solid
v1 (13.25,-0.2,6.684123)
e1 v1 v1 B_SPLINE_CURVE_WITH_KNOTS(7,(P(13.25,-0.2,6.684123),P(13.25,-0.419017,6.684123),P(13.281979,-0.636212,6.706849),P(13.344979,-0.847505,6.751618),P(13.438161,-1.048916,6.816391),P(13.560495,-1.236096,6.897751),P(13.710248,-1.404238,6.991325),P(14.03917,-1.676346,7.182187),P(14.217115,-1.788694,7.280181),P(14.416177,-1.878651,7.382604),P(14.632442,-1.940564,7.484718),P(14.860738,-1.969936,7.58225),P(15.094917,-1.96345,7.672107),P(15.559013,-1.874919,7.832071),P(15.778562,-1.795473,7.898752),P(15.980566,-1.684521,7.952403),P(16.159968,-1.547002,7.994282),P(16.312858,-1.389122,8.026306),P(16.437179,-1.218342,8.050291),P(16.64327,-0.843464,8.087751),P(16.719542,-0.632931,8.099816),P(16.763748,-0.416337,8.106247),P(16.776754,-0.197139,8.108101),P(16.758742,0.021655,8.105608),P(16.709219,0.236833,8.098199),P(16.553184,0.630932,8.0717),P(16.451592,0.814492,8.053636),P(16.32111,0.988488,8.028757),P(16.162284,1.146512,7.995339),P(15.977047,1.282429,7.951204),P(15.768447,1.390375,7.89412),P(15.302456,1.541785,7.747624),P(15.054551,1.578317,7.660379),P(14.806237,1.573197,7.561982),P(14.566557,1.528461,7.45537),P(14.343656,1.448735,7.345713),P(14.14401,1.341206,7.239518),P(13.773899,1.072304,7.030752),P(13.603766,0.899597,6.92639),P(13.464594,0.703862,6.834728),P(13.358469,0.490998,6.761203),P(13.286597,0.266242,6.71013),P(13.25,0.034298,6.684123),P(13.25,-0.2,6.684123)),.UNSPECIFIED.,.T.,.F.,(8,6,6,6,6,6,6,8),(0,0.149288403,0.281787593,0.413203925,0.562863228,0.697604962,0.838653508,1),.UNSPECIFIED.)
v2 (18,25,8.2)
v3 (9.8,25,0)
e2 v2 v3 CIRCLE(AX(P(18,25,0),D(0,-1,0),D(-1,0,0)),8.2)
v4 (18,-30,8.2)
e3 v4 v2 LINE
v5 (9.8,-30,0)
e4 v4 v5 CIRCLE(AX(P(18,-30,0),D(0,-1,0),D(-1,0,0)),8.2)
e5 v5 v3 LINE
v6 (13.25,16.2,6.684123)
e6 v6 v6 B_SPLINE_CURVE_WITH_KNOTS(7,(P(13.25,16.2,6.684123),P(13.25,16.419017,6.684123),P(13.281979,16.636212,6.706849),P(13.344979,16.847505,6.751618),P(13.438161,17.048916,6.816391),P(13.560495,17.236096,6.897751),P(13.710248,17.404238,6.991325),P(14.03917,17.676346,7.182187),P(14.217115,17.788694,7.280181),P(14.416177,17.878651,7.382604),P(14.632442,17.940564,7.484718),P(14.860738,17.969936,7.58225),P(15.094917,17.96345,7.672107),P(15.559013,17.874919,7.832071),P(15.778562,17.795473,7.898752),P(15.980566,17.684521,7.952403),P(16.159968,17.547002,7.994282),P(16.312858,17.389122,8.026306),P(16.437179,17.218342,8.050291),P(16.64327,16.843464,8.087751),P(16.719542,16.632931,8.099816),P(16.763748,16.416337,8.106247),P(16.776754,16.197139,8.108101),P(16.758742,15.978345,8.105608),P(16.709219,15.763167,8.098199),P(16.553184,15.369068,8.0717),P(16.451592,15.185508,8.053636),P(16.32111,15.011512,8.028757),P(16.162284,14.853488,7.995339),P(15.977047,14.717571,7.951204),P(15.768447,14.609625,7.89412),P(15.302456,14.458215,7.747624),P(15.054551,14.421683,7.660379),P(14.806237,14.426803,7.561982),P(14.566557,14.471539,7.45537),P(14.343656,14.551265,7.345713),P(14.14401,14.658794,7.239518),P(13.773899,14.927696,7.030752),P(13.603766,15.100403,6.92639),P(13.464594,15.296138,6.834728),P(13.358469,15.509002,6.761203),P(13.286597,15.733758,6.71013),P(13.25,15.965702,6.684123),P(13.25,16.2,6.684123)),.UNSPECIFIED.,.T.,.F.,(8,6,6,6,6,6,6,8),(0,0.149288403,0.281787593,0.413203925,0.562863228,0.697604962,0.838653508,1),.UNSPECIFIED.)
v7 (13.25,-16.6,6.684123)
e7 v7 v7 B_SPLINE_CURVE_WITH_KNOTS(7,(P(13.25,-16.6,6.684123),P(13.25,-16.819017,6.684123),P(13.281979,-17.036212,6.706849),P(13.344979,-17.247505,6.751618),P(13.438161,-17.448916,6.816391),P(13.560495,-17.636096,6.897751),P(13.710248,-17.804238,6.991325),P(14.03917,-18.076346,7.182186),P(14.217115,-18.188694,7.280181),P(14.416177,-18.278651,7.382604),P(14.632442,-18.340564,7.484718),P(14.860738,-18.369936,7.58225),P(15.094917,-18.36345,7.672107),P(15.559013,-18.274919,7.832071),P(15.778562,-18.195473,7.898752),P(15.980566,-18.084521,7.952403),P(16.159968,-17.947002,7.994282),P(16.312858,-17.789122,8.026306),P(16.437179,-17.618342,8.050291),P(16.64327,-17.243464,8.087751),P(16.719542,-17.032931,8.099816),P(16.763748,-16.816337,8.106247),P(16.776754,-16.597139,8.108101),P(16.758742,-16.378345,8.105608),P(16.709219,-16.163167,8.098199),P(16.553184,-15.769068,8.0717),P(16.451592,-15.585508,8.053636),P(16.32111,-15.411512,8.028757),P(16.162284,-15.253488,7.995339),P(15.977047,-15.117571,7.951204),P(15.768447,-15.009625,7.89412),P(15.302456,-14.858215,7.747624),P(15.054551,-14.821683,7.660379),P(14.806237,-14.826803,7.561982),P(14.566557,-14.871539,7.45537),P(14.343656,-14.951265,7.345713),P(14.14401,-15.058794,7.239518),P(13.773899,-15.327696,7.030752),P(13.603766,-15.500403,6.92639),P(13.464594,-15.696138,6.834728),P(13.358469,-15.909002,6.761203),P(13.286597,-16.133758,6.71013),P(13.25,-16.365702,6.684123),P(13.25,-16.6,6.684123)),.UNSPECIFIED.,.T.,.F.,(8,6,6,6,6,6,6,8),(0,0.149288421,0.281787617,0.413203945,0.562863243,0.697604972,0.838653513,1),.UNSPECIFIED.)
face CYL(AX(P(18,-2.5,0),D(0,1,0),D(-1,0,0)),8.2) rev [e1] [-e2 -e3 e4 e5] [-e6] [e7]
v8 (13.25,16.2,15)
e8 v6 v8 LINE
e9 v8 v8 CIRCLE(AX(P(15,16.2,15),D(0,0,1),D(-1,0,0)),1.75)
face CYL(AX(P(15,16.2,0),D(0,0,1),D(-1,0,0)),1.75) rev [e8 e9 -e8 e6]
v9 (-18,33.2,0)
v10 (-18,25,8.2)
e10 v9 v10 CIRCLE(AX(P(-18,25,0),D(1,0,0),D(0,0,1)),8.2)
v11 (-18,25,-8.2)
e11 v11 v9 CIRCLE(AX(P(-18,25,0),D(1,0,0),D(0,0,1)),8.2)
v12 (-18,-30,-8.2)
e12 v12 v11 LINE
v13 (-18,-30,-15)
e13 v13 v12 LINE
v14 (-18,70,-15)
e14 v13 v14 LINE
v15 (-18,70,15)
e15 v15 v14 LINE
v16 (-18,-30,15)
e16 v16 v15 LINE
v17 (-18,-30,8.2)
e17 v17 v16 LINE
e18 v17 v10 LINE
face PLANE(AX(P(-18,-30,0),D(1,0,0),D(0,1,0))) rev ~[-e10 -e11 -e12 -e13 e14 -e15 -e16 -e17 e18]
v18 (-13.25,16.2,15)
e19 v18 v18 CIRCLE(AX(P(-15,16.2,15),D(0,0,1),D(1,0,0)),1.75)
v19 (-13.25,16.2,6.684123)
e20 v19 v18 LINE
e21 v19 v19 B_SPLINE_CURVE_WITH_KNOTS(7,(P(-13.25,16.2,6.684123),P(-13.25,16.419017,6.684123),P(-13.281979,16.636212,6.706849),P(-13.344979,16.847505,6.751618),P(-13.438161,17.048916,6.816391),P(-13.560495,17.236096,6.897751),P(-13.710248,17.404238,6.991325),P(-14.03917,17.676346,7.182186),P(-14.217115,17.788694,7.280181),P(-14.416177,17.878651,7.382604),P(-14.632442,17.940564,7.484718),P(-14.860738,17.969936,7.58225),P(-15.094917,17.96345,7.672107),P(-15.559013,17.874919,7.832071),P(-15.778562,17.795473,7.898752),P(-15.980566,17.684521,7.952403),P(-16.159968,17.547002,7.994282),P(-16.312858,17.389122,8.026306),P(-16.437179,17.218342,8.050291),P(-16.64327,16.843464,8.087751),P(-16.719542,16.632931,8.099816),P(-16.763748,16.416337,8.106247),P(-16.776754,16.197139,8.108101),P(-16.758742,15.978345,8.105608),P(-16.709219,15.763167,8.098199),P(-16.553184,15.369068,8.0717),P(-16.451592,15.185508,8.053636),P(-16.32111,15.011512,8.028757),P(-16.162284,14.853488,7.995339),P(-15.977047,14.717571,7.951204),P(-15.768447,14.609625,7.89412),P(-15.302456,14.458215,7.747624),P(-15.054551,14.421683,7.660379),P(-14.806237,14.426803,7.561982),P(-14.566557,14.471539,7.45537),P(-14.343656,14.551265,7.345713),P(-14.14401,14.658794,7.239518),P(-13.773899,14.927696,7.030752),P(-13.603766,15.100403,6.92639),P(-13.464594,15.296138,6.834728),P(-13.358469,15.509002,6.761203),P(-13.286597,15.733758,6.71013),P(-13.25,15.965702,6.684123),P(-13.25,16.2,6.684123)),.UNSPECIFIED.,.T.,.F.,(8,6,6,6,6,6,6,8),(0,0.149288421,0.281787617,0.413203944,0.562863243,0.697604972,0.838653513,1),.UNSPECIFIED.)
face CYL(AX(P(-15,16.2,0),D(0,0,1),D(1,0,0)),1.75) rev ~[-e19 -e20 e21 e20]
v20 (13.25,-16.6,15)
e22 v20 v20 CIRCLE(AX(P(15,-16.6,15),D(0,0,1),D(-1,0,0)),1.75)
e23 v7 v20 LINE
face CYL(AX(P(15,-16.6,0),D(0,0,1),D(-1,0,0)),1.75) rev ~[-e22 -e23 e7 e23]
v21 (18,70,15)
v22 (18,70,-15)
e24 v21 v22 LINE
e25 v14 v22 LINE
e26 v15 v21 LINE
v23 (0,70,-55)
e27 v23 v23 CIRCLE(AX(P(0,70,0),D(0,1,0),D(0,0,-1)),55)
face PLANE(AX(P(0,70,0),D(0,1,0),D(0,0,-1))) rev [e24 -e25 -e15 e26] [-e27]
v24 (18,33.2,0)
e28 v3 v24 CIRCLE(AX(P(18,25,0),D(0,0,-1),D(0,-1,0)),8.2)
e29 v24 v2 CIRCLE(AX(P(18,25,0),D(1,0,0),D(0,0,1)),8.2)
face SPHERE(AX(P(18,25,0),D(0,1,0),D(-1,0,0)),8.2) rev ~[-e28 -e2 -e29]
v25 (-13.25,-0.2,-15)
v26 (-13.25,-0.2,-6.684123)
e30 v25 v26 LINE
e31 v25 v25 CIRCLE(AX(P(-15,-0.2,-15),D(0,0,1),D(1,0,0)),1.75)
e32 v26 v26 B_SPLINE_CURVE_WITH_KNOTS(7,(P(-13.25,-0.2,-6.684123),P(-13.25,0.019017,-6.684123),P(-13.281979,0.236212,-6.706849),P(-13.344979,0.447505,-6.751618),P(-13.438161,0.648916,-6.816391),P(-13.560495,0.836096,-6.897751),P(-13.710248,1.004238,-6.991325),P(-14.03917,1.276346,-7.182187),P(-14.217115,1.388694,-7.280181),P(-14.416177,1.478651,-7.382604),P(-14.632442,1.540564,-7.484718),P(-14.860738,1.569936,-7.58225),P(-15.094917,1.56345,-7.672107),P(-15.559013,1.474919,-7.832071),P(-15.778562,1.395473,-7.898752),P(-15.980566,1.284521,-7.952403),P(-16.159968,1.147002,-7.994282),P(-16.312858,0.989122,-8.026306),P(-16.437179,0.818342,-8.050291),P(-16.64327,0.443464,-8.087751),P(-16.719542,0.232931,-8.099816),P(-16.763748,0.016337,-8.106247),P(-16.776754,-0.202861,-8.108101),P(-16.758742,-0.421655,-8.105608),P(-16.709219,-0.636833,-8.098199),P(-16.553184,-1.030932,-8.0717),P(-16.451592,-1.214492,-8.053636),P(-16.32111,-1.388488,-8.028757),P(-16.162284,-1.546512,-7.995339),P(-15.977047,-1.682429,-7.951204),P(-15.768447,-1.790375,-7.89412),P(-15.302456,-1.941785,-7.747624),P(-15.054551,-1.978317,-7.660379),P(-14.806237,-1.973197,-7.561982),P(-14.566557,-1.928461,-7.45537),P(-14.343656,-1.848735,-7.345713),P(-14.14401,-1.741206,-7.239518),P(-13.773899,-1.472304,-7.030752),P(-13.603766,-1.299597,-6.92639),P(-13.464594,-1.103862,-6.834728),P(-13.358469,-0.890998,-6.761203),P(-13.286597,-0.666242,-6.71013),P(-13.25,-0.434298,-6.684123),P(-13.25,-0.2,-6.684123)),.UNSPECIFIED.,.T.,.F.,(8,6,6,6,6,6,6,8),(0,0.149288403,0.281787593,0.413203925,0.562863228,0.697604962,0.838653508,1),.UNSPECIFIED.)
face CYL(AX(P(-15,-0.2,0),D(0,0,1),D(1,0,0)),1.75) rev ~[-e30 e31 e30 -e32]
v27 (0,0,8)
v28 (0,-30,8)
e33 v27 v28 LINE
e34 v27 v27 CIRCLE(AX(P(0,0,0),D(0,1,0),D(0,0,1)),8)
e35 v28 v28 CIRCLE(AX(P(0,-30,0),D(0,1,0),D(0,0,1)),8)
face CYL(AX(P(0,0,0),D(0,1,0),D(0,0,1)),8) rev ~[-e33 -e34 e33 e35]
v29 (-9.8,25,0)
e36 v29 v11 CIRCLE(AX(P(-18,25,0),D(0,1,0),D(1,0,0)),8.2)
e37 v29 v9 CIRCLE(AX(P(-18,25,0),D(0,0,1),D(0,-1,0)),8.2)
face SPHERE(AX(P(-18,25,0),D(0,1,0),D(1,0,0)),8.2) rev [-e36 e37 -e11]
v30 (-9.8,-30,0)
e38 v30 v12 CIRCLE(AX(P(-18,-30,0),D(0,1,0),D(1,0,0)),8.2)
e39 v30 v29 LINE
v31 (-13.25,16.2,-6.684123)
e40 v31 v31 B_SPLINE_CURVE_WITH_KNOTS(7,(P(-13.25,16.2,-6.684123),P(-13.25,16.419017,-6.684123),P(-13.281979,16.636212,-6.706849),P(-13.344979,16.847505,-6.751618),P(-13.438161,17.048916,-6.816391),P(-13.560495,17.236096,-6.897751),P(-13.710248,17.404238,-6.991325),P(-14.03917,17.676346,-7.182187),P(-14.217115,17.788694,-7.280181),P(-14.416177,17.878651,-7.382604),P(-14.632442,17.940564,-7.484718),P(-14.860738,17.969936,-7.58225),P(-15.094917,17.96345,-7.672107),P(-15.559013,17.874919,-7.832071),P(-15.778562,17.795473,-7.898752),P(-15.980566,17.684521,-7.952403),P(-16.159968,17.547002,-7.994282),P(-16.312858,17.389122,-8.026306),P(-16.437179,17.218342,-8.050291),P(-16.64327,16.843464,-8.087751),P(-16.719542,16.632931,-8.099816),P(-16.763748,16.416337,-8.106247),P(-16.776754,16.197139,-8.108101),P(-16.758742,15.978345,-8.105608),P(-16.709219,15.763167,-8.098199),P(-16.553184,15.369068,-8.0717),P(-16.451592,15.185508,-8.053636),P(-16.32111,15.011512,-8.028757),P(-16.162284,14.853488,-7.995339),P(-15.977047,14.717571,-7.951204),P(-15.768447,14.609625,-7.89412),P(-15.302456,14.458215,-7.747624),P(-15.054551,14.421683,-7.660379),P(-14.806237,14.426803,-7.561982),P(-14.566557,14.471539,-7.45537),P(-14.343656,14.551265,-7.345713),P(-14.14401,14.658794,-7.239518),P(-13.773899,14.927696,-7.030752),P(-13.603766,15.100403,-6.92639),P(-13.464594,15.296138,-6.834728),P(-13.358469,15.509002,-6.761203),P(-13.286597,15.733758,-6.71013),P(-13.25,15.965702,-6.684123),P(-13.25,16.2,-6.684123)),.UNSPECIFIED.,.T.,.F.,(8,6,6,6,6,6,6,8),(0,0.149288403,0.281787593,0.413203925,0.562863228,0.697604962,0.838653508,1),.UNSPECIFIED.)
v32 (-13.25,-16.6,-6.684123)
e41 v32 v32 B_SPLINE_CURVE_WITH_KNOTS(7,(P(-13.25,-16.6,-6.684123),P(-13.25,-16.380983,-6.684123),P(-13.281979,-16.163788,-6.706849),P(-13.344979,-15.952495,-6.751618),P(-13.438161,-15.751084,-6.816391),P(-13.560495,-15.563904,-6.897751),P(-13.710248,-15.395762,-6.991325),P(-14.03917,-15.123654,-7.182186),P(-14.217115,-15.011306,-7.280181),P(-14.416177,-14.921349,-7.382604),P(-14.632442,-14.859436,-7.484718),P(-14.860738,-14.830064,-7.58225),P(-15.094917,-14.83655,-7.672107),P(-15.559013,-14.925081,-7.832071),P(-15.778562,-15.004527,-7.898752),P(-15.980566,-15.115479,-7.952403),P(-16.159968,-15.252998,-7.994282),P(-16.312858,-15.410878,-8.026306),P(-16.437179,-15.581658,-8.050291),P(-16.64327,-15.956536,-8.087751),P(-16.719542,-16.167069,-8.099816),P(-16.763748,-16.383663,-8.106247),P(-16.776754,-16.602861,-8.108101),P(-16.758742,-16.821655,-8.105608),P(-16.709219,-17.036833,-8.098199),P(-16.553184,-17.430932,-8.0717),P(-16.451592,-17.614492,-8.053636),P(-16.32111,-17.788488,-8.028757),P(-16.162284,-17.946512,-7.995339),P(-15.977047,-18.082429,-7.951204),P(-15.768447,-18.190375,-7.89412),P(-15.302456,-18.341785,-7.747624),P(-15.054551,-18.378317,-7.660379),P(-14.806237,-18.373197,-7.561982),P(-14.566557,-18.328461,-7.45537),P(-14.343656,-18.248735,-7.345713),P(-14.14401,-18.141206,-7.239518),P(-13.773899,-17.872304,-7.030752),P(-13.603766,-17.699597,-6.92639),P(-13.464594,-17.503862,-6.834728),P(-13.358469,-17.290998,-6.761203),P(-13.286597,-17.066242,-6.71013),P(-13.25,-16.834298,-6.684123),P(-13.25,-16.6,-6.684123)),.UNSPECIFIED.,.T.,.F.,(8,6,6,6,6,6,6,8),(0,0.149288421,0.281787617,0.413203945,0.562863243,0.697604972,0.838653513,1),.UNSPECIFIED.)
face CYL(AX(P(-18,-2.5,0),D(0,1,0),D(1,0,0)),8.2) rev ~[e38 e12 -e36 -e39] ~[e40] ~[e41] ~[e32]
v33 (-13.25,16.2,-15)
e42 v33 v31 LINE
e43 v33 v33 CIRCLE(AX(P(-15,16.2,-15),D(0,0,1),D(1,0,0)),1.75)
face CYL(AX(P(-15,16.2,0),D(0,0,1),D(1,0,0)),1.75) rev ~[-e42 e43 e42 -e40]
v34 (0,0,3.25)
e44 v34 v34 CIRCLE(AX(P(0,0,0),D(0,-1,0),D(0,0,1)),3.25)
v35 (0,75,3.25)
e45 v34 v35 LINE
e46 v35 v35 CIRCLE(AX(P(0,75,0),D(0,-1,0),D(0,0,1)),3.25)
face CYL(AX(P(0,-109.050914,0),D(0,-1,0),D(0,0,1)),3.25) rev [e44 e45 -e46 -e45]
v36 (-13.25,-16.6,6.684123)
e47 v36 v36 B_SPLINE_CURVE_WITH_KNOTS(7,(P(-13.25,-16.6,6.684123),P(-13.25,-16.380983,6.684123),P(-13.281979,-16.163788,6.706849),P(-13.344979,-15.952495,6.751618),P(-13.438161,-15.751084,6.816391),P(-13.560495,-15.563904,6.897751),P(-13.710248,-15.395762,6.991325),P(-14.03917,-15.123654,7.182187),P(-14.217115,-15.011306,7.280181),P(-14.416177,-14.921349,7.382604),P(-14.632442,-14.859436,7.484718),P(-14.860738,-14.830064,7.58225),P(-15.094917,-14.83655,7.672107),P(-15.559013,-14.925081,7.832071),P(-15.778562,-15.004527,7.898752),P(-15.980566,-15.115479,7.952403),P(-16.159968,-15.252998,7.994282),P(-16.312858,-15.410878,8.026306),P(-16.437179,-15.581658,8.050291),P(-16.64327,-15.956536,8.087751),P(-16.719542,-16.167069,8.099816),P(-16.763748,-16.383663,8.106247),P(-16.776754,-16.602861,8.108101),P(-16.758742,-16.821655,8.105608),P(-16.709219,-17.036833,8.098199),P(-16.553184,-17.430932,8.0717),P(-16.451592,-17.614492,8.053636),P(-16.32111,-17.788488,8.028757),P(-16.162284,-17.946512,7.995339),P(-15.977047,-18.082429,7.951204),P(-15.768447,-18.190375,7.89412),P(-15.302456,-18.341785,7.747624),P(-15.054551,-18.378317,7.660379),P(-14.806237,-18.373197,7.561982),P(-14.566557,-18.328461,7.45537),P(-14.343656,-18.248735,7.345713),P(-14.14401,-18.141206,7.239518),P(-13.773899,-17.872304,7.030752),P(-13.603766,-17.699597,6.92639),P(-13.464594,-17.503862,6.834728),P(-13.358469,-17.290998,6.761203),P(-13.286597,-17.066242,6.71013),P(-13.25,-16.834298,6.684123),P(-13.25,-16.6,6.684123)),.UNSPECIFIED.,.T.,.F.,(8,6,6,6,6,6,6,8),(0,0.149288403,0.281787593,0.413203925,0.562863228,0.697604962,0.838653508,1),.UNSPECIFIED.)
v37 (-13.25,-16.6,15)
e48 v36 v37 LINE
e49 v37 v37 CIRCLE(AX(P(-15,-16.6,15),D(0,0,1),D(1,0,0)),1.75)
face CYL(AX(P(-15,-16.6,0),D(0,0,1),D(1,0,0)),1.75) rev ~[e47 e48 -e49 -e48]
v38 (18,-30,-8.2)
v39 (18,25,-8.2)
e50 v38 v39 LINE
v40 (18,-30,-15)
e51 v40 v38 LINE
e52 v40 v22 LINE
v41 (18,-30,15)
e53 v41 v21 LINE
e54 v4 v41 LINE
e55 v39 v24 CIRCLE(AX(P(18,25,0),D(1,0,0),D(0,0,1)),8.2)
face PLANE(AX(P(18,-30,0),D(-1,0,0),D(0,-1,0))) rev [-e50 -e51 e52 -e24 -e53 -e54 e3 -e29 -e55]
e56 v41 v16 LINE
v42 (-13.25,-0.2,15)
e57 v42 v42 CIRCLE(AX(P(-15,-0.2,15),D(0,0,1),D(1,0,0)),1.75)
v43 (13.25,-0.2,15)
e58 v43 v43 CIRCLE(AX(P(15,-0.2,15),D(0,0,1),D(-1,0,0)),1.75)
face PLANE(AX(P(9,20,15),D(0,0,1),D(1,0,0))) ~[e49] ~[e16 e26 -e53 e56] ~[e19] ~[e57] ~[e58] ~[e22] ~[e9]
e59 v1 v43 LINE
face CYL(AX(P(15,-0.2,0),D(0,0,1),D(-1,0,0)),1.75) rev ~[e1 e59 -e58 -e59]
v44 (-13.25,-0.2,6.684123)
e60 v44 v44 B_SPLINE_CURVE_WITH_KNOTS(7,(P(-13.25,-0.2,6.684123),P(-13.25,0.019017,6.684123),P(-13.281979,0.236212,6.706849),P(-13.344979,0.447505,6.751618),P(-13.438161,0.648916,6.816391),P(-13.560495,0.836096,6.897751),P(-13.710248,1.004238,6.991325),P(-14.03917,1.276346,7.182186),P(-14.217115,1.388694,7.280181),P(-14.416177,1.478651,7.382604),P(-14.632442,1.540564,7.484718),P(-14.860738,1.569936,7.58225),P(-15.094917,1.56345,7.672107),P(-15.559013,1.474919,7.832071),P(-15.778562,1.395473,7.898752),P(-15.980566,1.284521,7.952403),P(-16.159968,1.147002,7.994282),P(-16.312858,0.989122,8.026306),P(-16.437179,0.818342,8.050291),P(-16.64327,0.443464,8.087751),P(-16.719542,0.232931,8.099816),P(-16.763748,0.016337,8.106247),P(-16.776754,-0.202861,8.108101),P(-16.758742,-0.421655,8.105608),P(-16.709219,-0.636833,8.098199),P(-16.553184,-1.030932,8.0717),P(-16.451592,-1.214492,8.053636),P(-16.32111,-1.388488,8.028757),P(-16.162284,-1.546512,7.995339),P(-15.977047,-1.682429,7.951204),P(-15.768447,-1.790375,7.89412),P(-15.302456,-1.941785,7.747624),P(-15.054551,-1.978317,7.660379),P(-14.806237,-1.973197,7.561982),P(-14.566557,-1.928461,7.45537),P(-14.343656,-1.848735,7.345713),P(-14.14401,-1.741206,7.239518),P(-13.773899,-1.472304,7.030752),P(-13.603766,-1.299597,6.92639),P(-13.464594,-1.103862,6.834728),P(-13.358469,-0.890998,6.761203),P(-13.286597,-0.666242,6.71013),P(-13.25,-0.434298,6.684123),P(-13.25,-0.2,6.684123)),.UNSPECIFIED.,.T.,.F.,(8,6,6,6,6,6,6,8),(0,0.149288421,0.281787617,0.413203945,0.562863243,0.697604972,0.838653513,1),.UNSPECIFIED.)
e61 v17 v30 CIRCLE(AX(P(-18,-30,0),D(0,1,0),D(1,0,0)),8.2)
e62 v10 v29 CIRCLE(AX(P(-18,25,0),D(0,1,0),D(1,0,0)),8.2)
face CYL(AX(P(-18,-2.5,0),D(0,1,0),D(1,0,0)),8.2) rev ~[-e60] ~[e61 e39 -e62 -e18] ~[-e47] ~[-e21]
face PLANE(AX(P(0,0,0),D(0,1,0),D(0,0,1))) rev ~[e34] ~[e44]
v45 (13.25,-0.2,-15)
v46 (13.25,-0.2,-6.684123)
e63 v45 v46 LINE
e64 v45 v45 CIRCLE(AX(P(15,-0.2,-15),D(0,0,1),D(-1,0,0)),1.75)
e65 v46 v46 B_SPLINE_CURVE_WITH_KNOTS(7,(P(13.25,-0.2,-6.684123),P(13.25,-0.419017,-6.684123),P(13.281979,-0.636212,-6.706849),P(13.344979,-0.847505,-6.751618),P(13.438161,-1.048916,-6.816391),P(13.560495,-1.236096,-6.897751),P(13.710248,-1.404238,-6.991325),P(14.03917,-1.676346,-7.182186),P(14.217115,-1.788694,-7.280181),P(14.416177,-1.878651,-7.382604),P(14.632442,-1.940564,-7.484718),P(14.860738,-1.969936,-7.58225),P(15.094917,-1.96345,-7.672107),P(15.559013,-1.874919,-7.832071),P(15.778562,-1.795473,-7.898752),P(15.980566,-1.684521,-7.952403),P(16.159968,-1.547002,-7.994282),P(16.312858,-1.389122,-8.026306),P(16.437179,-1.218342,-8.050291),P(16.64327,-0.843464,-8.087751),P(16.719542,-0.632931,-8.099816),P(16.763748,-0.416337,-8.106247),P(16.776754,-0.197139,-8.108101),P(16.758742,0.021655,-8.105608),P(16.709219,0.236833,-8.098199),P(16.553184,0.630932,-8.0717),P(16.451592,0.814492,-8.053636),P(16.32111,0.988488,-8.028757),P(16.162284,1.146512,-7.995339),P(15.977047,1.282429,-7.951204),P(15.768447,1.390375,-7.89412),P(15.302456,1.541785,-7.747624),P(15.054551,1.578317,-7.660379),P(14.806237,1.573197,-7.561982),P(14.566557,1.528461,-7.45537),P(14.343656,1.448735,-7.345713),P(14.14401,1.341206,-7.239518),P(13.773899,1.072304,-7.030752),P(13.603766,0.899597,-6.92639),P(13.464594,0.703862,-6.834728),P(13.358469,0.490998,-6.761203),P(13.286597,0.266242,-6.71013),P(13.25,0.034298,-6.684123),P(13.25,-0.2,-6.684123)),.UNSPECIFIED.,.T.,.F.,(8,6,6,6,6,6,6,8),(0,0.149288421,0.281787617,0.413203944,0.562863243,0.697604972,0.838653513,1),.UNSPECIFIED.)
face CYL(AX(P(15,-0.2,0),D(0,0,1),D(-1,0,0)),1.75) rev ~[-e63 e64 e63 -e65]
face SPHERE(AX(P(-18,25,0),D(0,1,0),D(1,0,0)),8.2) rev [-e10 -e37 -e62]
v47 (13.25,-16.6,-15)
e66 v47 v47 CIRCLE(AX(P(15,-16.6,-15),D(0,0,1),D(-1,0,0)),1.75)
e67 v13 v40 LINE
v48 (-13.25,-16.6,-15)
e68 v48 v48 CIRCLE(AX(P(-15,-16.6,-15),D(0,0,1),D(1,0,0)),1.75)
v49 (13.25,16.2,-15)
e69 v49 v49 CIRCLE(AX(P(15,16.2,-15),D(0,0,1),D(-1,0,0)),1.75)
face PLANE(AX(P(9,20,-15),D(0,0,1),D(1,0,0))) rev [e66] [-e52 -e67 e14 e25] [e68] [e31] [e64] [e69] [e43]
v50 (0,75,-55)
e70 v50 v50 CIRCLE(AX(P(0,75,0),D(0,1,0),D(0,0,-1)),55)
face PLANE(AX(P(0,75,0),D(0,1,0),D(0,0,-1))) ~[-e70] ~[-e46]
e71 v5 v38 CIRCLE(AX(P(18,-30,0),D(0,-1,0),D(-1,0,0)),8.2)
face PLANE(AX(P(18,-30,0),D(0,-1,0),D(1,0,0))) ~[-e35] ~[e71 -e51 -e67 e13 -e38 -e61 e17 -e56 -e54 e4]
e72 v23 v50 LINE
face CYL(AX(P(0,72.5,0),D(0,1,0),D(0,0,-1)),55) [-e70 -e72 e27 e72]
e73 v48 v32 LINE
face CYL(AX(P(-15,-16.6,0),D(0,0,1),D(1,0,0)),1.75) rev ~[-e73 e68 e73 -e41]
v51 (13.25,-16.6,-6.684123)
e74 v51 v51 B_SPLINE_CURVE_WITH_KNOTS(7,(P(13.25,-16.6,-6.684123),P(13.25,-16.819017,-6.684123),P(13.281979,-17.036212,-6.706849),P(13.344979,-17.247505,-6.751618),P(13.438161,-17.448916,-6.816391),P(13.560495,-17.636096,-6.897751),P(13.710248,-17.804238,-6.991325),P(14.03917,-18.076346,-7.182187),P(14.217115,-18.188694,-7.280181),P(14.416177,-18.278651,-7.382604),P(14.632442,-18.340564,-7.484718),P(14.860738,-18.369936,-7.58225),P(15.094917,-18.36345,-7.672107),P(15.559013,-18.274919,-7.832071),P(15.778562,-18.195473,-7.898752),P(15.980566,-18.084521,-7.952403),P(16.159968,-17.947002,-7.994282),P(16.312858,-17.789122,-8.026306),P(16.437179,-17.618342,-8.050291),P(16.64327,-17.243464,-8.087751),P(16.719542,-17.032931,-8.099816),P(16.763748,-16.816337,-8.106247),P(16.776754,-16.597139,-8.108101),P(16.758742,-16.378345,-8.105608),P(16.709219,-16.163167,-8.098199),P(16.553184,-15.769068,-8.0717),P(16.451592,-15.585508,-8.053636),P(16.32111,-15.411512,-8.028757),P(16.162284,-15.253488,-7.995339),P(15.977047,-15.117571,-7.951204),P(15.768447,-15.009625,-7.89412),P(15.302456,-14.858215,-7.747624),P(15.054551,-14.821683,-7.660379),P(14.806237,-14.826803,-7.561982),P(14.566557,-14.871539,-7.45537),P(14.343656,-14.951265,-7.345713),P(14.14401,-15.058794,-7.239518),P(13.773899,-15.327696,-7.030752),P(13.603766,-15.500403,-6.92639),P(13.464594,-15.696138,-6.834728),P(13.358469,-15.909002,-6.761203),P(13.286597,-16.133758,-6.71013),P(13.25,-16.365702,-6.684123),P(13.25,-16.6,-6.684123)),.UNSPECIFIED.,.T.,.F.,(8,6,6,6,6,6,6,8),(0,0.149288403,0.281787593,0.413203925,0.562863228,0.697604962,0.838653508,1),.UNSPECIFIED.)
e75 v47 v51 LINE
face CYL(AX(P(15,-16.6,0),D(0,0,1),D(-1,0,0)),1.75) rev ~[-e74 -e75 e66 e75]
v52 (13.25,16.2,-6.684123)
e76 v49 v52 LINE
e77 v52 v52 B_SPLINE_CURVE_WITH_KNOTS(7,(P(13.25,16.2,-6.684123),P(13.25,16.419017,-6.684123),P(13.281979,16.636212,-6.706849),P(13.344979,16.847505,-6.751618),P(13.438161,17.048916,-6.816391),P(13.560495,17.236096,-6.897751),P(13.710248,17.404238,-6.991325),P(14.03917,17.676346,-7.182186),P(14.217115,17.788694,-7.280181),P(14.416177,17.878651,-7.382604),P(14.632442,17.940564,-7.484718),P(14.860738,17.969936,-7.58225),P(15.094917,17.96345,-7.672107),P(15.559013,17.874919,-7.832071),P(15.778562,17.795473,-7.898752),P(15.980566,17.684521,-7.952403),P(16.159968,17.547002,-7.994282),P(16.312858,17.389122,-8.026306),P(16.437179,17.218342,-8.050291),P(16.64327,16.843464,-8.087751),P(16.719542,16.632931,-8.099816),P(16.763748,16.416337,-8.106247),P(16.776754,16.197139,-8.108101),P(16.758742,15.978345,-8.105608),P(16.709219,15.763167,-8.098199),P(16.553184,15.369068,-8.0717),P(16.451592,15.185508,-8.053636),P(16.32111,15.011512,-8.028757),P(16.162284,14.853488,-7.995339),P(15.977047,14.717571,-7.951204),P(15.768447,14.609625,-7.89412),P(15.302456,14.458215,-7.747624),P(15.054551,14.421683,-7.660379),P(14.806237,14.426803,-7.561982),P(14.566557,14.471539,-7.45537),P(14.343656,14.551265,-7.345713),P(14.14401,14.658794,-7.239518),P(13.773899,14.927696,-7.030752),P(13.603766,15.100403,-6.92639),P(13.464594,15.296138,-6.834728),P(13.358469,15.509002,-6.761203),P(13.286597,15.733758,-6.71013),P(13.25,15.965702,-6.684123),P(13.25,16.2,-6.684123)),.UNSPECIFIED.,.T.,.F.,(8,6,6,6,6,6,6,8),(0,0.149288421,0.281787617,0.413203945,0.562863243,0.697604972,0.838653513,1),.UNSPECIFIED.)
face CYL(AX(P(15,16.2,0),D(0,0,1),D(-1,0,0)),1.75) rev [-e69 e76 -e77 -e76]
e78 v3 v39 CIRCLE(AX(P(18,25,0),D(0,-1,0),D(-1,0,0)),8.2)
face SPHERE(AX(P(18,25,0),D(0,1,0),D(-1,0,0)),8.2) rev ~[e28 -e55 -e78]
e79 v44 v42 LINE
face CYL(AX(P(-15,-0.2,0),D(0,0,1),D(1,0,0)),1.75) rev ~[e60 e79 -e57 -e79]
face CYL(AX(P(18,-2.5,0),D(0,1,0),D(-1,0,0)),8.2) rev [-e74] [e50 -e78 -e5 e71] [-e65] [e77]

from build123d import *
from build123d.topology import SkipClean

# Parameters (mm, degrees)
SKETCH_5_W                 = 18
SKETCH_5_H                 = 100
EXTRUDE_1_DEPTH            = 15
PATTERN_LINEAR_1_COUNT     = 2
PATTERN_LINEAR_1_PITCH     = 16.1
PATTERN_LINEAR_1_COL_COUNT = 2
PATTERN_LINEAR_1_COL_PITCH = 16.1
SKETCH_9_W                 = 55
SKETCH_9_H                 = 5
CUT_EXTRUDE_1_DEPTH        = 109.050913925
CUT_EXTRUDE_1_DEPTH_BACK   = 109.050913925
SKETCH_12_R                = 3.25
SKETCH_15_R                = 8
CUT_EXTRUDE_4_DEPTH        = 109.050913925
SKETCH_17_W                = 8.2
SKETCH_17_H                = 55
SKETCH_19_R                = 1.75
CUT_EXTRUDE_7_DEPTH        = 109.050913925
PATTERN_LINEAR_2_COUNT     = 3
PATTERN_LINEAR_2_PITCH     = 16.4
MIRROR_7_COPY_1_SKETCH_R   = 1.75
MIRROR_7_COPY_1_DEPTH      = 109.050913925
MIRROR_7_COPY_2_SKETCH_R   = 1.75
MIRROR_7_COPY_2_DEPTH      = 109.050913925
MIRROR_7_COPY_3_SKETCH_R   = 1.75
MIRROR_7_COPY_3_DEPTH      = 109.050913925


with BuildPart() as part:
    # 草图5 → 凸台-拉伸1 (new, symmetric)
    with BuildSketch(Plane.XY):
        with Locations((-9, 20)):
            Rectangle(SKETCH_5_W, SKETCH_5_H)
    extrude_1 = extrude(amount=EXTRUDE_1_DEPTH, both=True)

    # 草图7 → 切除-旋转1 (revolve, cut)
    with BuildSketch(Plane.XY):
        with BuildLine():
            Line((-18, 8), (-18, -8))
            ThreePointArc((-18, -8), (-10, 0), (-18, 8))
        make_face()
    cut_revolve_1 = revolve(axis=Axis((-18, 8, 0), (0, -1, 0)), mode=Mode.SUBTRACT)

    # 阵列(线性)1: 切除-旋转1 ×2
    with Locations(*[(0, i * PATTERN_LINEAR_1_PITCH, 0) for i in range(1, PATTERN_LINEAR_1_COUNT)]):
        add(cut_revolve_1, mode=Mode.SUBTRACT)

    # 阵列(线性)1 col: 切除-旋转1 ×2
    with Locations(*[(0, -i * PATTERN_LINEAR_1_COL_PITCH, 0) for i in range(1, PATTERN_LINEAR_1_COL_COUNT)]):
        add(cut_revolve_1, mode=Mode.SUBTRACT)

    # 镜向2: 凸台-拉伸1 across plane
    add(extrude_1.mirror(Plane(origin=(0, 0, 0), x_dir=(0, 0, 1), z_dir=(1, 0, 0))))

    # 镜向3: 切除-旋转1 across plane
    with SkipClean():  # the faces are left unmerged after this step: merging them gives an invalid solid
        add(cut_revolve_1.mirror(Plane(origin=(0, 0, 0), x_dir=(0, 0, 1), z_dir=(1, 0, 0))), mode=Mode.SUBTRACT)

    # 镜向4 copy 1 sketch → 镜向4 copy 1 (revolve, cut)
    with SkipClean():  # the faces are left unmerged after this step: merging them gives an invalid solid
        with BuildSketch(Plane(origin=(0, 16.1, 0), x_dir=(-1, 0, 0), z_dir=(0, 0, 1))):
            with BuildLine():
                Line((-18, -8), (-18, 8))
                ThreePointArc((-18, 8), (-10, 0), (-18, -8))
            make_face()
        revolve(axis=Axis((18, 24.1, 0), (0, 1, 0)), mode=Mode.SUBTRACT)

    # 镜向4 copy 2 sketch → 镜向4 copy 2 (revolve, cut)
    with SkipClean():  # the faces are left unmerged after this step: merging them gives an invalid solid
        with BuildSketch(Plane(origin=(0, -16.1, 0), x_dir=(-1, 0, 0), z_dir=(0, 0, 1))):
            with BuildLine():
                Line((-18, -8), (-18, 8))
                ThreePointArc((-18, 8), (-10, 0), (-18, -8))
            make_face()
        revolve(axis=Axis((18, -8.1, 0), (0, 1, 0)), mode=Mode.SUBTRACT)

    # 镜向4 copy 3 sketch → 镜向4 copy 3 (revolve, cut)
    with SkipClean():  # the faces are left unmerged after this step: merging them gives an invalid solid
        with BuildSketch(Plane(origin=(0, 0, 0), x_dir=(-1, 0, 0), z_dir=(0, 0, 1))):
            with BuildLine():
                Line((-18, -8), (-18, 8))
                ThreePointArc((-18, 8), (-10, 0), (-18, -8))
            make_face()
        revolve(axis=Axis((18, 8, 0), (0, 1, 0)), mode=Mode.SUBTRACT)

    # 草图9 → 旋转1 (revolve)
    with SkipClean():  # the faces are left unmerged after this step: merging them gives an invalid solid
        with BuildSketch(Plane.XY):
            with Locations((27.5, 72.5)):
                Rectangle(SKETCH_9_W, SKETCH_9_H)
        revolve(axis=Axis((0, 70, 0), (0, 1, 0)))

    # 草图12 → 切除-拉伸1 (cut, two sides: drawn at the far end of the back side and taken through both)
    with SkipClean():  # the faces are left unmerged after this step: merging them gives an invalid solid
        with BuildSketch(Plane(origin=(0, 0, 0), x_dir=(1, 0, 0), z_dir=(0, 1, 0)).offset(-CUT_EXTRUDE_1_DEPTH_BACK)):
            Circle(SKETCH_12_R)
        extrude(amount=CUT_EXTRUDE_1_DEPTH + CUT_EXTRUDE_1_DEPTH_BACK, mode=Mode.SUBTRACT)

    # 草图15 → 切除-拉伸4 (cut, through all)
    with SkipClean():  # the faces are left unmerged after this step: merging them gives an invalid solid
        with BuildSketch(Plane(origin=(0, 0, 0), x_dir=(1, 0, 0), z_dir=(0, 1, 0))):
            Circle(SKETCH_15_R)
        extrude(amount=-CUT_EXTRUDE_4_DEPTH, mode=Mode.SUBTRACT)

    # 草图18 → 切除-旋转2 (revolve, cut)
    with SkipClean():  # the faces are left unmerged after this step: merging them gives an invalid solid
        with BuildSketch(Plane.XY):
            with BuildLine():
                Line((-18, 33.2), (-18, 16.8))
                ThreePointArc((-18, 16.8), (-9.8, 25), (-18, 33.2))
            make_face()
        cut_revolve_2 = revolve(axis=Axis((-18, 33.2, 0), (0, -1, 0)), mode=Mode.SUBTRACT)

    # 草图17 → 切除-旋转3 (revolve, cut)
    with SkipClean():  # the faces are left unmerged after this step: merging them gives an invalid solid
        with BuildSketch(Plane.XY):
            with Locations((-13.9, -2.5)):
                Rectangle(SKETCH_17_W, SKETCH_17_H)
        cut_revolve_3 = revolve(axis=Axis((-18, -30, 0), (0, 1, 0)), mode=Mode.SUBTRACT)

    # 镜向5: 切除-旋转2 across plane
    with SkipClean():  # the faces are left unmerged after this step: merging them gives an invalid solid
        add(cut_revolve_2.mirror(Plane(origin=(0, 0, 0), x_dir=(0, 0, 1), z_dir=(1, 0, 0))), mode=Mode.SUBTRACT)

    # 镜向6: 切除-旋转3 across plane
    with SkipClean():  # the faces are left unmerged after this step: merging them gives an invalid solid
        add(cut_revolve_3.mirror(Plane(origin=(0, 0, 0), x_dir=(0, 0, 1), z_dir=(1, 0, 0))), mode=Mode.SUBTRACT)

    # 草图19 → 切除-拉伸7 (cut, symmetric)
    with SkipClean():  # the faces are left unmerged after this step: merging them gives an invalid solid
        with BuildSketch(Plane.XY):
            with Locations((-15, 16.2)):
                Circle(SKETCH_19_R)
        cut_extrude_7 = extrude(amount=CUT_EXTRUDE_7_DEPTH, both=True, mode=Mode.SUBTRACT)

    # 阵列(线性)2: 切除-拉伸7 ×3
    with SkipClean():  # the faces are left unmerged after this step: merging them gives an invalid solid
        with Locations(*[(0, -i * PATTERN_LINEAR_2_PITCH, 0) for i in range(1, PATTERN_LINEAR_2_COUNT)]):
            add(cut_extrude_7, mode=Mode.SUBTRACT)

    # 镜向7 copy 1 sketch → 镜向7 copy 1 (cut, symmetric)
    with SkipClean():  # the faces are left unmerged after this step: merging them gives an invalid solid
        with BuildSketch(Plane(origin=(0, -16.4, 0), x_dir=(-1, 0, 0), z_dir=(0, 0, 1))):
            with Locations((-15, -16.2)):
                Circle(MIRROR_7_COPY_1_SKETCH_R)
        extrude(amount=MIRROR_7_COPY_1_DEPTH, both=True, mode=Mode.SUBTRACT)

    # 镜向7 copy 2 sketch → 镜向7 copy 2 (cut, symmetric)
    with SkipClean():  # the faces are left unmerged after this step: merging them gives an invalid solid
        with BuildSketch(Plane(origin=(0, -32.8, 0), x_dir=(-1, 0, 0), z_dir=(0, 0, 1))):
            with Locations((-15, -16.2)):
                Circle(MIRROR_7_COPY_2_SKETCH_R)
        extrude(amount=MIRROR_7_COPY_2_DEPTH, both=True, mode=Mode.SUBTRACT)

    # 镜向7 copy 3 sketch → 镜向7 copy 3 (cut, symmetric)
    with SkipClean():  # the faces are left unmerged after this step: merging them gives an invalid solid
        with BuildSketch(Plane(origin=(0, 0, 0), x_dir=(-1, 0, 0), z_dir=(0, 0, 1))):
            with Locations((-15, -16.2)):
                Circle(MIRROR_7_COPY_3_SKETCH_R)
        extrude(amount=MIRROR_7_COPY_3_DEPTH, both=True, mode=Mode.SUBTRACT)


solid = part.part
